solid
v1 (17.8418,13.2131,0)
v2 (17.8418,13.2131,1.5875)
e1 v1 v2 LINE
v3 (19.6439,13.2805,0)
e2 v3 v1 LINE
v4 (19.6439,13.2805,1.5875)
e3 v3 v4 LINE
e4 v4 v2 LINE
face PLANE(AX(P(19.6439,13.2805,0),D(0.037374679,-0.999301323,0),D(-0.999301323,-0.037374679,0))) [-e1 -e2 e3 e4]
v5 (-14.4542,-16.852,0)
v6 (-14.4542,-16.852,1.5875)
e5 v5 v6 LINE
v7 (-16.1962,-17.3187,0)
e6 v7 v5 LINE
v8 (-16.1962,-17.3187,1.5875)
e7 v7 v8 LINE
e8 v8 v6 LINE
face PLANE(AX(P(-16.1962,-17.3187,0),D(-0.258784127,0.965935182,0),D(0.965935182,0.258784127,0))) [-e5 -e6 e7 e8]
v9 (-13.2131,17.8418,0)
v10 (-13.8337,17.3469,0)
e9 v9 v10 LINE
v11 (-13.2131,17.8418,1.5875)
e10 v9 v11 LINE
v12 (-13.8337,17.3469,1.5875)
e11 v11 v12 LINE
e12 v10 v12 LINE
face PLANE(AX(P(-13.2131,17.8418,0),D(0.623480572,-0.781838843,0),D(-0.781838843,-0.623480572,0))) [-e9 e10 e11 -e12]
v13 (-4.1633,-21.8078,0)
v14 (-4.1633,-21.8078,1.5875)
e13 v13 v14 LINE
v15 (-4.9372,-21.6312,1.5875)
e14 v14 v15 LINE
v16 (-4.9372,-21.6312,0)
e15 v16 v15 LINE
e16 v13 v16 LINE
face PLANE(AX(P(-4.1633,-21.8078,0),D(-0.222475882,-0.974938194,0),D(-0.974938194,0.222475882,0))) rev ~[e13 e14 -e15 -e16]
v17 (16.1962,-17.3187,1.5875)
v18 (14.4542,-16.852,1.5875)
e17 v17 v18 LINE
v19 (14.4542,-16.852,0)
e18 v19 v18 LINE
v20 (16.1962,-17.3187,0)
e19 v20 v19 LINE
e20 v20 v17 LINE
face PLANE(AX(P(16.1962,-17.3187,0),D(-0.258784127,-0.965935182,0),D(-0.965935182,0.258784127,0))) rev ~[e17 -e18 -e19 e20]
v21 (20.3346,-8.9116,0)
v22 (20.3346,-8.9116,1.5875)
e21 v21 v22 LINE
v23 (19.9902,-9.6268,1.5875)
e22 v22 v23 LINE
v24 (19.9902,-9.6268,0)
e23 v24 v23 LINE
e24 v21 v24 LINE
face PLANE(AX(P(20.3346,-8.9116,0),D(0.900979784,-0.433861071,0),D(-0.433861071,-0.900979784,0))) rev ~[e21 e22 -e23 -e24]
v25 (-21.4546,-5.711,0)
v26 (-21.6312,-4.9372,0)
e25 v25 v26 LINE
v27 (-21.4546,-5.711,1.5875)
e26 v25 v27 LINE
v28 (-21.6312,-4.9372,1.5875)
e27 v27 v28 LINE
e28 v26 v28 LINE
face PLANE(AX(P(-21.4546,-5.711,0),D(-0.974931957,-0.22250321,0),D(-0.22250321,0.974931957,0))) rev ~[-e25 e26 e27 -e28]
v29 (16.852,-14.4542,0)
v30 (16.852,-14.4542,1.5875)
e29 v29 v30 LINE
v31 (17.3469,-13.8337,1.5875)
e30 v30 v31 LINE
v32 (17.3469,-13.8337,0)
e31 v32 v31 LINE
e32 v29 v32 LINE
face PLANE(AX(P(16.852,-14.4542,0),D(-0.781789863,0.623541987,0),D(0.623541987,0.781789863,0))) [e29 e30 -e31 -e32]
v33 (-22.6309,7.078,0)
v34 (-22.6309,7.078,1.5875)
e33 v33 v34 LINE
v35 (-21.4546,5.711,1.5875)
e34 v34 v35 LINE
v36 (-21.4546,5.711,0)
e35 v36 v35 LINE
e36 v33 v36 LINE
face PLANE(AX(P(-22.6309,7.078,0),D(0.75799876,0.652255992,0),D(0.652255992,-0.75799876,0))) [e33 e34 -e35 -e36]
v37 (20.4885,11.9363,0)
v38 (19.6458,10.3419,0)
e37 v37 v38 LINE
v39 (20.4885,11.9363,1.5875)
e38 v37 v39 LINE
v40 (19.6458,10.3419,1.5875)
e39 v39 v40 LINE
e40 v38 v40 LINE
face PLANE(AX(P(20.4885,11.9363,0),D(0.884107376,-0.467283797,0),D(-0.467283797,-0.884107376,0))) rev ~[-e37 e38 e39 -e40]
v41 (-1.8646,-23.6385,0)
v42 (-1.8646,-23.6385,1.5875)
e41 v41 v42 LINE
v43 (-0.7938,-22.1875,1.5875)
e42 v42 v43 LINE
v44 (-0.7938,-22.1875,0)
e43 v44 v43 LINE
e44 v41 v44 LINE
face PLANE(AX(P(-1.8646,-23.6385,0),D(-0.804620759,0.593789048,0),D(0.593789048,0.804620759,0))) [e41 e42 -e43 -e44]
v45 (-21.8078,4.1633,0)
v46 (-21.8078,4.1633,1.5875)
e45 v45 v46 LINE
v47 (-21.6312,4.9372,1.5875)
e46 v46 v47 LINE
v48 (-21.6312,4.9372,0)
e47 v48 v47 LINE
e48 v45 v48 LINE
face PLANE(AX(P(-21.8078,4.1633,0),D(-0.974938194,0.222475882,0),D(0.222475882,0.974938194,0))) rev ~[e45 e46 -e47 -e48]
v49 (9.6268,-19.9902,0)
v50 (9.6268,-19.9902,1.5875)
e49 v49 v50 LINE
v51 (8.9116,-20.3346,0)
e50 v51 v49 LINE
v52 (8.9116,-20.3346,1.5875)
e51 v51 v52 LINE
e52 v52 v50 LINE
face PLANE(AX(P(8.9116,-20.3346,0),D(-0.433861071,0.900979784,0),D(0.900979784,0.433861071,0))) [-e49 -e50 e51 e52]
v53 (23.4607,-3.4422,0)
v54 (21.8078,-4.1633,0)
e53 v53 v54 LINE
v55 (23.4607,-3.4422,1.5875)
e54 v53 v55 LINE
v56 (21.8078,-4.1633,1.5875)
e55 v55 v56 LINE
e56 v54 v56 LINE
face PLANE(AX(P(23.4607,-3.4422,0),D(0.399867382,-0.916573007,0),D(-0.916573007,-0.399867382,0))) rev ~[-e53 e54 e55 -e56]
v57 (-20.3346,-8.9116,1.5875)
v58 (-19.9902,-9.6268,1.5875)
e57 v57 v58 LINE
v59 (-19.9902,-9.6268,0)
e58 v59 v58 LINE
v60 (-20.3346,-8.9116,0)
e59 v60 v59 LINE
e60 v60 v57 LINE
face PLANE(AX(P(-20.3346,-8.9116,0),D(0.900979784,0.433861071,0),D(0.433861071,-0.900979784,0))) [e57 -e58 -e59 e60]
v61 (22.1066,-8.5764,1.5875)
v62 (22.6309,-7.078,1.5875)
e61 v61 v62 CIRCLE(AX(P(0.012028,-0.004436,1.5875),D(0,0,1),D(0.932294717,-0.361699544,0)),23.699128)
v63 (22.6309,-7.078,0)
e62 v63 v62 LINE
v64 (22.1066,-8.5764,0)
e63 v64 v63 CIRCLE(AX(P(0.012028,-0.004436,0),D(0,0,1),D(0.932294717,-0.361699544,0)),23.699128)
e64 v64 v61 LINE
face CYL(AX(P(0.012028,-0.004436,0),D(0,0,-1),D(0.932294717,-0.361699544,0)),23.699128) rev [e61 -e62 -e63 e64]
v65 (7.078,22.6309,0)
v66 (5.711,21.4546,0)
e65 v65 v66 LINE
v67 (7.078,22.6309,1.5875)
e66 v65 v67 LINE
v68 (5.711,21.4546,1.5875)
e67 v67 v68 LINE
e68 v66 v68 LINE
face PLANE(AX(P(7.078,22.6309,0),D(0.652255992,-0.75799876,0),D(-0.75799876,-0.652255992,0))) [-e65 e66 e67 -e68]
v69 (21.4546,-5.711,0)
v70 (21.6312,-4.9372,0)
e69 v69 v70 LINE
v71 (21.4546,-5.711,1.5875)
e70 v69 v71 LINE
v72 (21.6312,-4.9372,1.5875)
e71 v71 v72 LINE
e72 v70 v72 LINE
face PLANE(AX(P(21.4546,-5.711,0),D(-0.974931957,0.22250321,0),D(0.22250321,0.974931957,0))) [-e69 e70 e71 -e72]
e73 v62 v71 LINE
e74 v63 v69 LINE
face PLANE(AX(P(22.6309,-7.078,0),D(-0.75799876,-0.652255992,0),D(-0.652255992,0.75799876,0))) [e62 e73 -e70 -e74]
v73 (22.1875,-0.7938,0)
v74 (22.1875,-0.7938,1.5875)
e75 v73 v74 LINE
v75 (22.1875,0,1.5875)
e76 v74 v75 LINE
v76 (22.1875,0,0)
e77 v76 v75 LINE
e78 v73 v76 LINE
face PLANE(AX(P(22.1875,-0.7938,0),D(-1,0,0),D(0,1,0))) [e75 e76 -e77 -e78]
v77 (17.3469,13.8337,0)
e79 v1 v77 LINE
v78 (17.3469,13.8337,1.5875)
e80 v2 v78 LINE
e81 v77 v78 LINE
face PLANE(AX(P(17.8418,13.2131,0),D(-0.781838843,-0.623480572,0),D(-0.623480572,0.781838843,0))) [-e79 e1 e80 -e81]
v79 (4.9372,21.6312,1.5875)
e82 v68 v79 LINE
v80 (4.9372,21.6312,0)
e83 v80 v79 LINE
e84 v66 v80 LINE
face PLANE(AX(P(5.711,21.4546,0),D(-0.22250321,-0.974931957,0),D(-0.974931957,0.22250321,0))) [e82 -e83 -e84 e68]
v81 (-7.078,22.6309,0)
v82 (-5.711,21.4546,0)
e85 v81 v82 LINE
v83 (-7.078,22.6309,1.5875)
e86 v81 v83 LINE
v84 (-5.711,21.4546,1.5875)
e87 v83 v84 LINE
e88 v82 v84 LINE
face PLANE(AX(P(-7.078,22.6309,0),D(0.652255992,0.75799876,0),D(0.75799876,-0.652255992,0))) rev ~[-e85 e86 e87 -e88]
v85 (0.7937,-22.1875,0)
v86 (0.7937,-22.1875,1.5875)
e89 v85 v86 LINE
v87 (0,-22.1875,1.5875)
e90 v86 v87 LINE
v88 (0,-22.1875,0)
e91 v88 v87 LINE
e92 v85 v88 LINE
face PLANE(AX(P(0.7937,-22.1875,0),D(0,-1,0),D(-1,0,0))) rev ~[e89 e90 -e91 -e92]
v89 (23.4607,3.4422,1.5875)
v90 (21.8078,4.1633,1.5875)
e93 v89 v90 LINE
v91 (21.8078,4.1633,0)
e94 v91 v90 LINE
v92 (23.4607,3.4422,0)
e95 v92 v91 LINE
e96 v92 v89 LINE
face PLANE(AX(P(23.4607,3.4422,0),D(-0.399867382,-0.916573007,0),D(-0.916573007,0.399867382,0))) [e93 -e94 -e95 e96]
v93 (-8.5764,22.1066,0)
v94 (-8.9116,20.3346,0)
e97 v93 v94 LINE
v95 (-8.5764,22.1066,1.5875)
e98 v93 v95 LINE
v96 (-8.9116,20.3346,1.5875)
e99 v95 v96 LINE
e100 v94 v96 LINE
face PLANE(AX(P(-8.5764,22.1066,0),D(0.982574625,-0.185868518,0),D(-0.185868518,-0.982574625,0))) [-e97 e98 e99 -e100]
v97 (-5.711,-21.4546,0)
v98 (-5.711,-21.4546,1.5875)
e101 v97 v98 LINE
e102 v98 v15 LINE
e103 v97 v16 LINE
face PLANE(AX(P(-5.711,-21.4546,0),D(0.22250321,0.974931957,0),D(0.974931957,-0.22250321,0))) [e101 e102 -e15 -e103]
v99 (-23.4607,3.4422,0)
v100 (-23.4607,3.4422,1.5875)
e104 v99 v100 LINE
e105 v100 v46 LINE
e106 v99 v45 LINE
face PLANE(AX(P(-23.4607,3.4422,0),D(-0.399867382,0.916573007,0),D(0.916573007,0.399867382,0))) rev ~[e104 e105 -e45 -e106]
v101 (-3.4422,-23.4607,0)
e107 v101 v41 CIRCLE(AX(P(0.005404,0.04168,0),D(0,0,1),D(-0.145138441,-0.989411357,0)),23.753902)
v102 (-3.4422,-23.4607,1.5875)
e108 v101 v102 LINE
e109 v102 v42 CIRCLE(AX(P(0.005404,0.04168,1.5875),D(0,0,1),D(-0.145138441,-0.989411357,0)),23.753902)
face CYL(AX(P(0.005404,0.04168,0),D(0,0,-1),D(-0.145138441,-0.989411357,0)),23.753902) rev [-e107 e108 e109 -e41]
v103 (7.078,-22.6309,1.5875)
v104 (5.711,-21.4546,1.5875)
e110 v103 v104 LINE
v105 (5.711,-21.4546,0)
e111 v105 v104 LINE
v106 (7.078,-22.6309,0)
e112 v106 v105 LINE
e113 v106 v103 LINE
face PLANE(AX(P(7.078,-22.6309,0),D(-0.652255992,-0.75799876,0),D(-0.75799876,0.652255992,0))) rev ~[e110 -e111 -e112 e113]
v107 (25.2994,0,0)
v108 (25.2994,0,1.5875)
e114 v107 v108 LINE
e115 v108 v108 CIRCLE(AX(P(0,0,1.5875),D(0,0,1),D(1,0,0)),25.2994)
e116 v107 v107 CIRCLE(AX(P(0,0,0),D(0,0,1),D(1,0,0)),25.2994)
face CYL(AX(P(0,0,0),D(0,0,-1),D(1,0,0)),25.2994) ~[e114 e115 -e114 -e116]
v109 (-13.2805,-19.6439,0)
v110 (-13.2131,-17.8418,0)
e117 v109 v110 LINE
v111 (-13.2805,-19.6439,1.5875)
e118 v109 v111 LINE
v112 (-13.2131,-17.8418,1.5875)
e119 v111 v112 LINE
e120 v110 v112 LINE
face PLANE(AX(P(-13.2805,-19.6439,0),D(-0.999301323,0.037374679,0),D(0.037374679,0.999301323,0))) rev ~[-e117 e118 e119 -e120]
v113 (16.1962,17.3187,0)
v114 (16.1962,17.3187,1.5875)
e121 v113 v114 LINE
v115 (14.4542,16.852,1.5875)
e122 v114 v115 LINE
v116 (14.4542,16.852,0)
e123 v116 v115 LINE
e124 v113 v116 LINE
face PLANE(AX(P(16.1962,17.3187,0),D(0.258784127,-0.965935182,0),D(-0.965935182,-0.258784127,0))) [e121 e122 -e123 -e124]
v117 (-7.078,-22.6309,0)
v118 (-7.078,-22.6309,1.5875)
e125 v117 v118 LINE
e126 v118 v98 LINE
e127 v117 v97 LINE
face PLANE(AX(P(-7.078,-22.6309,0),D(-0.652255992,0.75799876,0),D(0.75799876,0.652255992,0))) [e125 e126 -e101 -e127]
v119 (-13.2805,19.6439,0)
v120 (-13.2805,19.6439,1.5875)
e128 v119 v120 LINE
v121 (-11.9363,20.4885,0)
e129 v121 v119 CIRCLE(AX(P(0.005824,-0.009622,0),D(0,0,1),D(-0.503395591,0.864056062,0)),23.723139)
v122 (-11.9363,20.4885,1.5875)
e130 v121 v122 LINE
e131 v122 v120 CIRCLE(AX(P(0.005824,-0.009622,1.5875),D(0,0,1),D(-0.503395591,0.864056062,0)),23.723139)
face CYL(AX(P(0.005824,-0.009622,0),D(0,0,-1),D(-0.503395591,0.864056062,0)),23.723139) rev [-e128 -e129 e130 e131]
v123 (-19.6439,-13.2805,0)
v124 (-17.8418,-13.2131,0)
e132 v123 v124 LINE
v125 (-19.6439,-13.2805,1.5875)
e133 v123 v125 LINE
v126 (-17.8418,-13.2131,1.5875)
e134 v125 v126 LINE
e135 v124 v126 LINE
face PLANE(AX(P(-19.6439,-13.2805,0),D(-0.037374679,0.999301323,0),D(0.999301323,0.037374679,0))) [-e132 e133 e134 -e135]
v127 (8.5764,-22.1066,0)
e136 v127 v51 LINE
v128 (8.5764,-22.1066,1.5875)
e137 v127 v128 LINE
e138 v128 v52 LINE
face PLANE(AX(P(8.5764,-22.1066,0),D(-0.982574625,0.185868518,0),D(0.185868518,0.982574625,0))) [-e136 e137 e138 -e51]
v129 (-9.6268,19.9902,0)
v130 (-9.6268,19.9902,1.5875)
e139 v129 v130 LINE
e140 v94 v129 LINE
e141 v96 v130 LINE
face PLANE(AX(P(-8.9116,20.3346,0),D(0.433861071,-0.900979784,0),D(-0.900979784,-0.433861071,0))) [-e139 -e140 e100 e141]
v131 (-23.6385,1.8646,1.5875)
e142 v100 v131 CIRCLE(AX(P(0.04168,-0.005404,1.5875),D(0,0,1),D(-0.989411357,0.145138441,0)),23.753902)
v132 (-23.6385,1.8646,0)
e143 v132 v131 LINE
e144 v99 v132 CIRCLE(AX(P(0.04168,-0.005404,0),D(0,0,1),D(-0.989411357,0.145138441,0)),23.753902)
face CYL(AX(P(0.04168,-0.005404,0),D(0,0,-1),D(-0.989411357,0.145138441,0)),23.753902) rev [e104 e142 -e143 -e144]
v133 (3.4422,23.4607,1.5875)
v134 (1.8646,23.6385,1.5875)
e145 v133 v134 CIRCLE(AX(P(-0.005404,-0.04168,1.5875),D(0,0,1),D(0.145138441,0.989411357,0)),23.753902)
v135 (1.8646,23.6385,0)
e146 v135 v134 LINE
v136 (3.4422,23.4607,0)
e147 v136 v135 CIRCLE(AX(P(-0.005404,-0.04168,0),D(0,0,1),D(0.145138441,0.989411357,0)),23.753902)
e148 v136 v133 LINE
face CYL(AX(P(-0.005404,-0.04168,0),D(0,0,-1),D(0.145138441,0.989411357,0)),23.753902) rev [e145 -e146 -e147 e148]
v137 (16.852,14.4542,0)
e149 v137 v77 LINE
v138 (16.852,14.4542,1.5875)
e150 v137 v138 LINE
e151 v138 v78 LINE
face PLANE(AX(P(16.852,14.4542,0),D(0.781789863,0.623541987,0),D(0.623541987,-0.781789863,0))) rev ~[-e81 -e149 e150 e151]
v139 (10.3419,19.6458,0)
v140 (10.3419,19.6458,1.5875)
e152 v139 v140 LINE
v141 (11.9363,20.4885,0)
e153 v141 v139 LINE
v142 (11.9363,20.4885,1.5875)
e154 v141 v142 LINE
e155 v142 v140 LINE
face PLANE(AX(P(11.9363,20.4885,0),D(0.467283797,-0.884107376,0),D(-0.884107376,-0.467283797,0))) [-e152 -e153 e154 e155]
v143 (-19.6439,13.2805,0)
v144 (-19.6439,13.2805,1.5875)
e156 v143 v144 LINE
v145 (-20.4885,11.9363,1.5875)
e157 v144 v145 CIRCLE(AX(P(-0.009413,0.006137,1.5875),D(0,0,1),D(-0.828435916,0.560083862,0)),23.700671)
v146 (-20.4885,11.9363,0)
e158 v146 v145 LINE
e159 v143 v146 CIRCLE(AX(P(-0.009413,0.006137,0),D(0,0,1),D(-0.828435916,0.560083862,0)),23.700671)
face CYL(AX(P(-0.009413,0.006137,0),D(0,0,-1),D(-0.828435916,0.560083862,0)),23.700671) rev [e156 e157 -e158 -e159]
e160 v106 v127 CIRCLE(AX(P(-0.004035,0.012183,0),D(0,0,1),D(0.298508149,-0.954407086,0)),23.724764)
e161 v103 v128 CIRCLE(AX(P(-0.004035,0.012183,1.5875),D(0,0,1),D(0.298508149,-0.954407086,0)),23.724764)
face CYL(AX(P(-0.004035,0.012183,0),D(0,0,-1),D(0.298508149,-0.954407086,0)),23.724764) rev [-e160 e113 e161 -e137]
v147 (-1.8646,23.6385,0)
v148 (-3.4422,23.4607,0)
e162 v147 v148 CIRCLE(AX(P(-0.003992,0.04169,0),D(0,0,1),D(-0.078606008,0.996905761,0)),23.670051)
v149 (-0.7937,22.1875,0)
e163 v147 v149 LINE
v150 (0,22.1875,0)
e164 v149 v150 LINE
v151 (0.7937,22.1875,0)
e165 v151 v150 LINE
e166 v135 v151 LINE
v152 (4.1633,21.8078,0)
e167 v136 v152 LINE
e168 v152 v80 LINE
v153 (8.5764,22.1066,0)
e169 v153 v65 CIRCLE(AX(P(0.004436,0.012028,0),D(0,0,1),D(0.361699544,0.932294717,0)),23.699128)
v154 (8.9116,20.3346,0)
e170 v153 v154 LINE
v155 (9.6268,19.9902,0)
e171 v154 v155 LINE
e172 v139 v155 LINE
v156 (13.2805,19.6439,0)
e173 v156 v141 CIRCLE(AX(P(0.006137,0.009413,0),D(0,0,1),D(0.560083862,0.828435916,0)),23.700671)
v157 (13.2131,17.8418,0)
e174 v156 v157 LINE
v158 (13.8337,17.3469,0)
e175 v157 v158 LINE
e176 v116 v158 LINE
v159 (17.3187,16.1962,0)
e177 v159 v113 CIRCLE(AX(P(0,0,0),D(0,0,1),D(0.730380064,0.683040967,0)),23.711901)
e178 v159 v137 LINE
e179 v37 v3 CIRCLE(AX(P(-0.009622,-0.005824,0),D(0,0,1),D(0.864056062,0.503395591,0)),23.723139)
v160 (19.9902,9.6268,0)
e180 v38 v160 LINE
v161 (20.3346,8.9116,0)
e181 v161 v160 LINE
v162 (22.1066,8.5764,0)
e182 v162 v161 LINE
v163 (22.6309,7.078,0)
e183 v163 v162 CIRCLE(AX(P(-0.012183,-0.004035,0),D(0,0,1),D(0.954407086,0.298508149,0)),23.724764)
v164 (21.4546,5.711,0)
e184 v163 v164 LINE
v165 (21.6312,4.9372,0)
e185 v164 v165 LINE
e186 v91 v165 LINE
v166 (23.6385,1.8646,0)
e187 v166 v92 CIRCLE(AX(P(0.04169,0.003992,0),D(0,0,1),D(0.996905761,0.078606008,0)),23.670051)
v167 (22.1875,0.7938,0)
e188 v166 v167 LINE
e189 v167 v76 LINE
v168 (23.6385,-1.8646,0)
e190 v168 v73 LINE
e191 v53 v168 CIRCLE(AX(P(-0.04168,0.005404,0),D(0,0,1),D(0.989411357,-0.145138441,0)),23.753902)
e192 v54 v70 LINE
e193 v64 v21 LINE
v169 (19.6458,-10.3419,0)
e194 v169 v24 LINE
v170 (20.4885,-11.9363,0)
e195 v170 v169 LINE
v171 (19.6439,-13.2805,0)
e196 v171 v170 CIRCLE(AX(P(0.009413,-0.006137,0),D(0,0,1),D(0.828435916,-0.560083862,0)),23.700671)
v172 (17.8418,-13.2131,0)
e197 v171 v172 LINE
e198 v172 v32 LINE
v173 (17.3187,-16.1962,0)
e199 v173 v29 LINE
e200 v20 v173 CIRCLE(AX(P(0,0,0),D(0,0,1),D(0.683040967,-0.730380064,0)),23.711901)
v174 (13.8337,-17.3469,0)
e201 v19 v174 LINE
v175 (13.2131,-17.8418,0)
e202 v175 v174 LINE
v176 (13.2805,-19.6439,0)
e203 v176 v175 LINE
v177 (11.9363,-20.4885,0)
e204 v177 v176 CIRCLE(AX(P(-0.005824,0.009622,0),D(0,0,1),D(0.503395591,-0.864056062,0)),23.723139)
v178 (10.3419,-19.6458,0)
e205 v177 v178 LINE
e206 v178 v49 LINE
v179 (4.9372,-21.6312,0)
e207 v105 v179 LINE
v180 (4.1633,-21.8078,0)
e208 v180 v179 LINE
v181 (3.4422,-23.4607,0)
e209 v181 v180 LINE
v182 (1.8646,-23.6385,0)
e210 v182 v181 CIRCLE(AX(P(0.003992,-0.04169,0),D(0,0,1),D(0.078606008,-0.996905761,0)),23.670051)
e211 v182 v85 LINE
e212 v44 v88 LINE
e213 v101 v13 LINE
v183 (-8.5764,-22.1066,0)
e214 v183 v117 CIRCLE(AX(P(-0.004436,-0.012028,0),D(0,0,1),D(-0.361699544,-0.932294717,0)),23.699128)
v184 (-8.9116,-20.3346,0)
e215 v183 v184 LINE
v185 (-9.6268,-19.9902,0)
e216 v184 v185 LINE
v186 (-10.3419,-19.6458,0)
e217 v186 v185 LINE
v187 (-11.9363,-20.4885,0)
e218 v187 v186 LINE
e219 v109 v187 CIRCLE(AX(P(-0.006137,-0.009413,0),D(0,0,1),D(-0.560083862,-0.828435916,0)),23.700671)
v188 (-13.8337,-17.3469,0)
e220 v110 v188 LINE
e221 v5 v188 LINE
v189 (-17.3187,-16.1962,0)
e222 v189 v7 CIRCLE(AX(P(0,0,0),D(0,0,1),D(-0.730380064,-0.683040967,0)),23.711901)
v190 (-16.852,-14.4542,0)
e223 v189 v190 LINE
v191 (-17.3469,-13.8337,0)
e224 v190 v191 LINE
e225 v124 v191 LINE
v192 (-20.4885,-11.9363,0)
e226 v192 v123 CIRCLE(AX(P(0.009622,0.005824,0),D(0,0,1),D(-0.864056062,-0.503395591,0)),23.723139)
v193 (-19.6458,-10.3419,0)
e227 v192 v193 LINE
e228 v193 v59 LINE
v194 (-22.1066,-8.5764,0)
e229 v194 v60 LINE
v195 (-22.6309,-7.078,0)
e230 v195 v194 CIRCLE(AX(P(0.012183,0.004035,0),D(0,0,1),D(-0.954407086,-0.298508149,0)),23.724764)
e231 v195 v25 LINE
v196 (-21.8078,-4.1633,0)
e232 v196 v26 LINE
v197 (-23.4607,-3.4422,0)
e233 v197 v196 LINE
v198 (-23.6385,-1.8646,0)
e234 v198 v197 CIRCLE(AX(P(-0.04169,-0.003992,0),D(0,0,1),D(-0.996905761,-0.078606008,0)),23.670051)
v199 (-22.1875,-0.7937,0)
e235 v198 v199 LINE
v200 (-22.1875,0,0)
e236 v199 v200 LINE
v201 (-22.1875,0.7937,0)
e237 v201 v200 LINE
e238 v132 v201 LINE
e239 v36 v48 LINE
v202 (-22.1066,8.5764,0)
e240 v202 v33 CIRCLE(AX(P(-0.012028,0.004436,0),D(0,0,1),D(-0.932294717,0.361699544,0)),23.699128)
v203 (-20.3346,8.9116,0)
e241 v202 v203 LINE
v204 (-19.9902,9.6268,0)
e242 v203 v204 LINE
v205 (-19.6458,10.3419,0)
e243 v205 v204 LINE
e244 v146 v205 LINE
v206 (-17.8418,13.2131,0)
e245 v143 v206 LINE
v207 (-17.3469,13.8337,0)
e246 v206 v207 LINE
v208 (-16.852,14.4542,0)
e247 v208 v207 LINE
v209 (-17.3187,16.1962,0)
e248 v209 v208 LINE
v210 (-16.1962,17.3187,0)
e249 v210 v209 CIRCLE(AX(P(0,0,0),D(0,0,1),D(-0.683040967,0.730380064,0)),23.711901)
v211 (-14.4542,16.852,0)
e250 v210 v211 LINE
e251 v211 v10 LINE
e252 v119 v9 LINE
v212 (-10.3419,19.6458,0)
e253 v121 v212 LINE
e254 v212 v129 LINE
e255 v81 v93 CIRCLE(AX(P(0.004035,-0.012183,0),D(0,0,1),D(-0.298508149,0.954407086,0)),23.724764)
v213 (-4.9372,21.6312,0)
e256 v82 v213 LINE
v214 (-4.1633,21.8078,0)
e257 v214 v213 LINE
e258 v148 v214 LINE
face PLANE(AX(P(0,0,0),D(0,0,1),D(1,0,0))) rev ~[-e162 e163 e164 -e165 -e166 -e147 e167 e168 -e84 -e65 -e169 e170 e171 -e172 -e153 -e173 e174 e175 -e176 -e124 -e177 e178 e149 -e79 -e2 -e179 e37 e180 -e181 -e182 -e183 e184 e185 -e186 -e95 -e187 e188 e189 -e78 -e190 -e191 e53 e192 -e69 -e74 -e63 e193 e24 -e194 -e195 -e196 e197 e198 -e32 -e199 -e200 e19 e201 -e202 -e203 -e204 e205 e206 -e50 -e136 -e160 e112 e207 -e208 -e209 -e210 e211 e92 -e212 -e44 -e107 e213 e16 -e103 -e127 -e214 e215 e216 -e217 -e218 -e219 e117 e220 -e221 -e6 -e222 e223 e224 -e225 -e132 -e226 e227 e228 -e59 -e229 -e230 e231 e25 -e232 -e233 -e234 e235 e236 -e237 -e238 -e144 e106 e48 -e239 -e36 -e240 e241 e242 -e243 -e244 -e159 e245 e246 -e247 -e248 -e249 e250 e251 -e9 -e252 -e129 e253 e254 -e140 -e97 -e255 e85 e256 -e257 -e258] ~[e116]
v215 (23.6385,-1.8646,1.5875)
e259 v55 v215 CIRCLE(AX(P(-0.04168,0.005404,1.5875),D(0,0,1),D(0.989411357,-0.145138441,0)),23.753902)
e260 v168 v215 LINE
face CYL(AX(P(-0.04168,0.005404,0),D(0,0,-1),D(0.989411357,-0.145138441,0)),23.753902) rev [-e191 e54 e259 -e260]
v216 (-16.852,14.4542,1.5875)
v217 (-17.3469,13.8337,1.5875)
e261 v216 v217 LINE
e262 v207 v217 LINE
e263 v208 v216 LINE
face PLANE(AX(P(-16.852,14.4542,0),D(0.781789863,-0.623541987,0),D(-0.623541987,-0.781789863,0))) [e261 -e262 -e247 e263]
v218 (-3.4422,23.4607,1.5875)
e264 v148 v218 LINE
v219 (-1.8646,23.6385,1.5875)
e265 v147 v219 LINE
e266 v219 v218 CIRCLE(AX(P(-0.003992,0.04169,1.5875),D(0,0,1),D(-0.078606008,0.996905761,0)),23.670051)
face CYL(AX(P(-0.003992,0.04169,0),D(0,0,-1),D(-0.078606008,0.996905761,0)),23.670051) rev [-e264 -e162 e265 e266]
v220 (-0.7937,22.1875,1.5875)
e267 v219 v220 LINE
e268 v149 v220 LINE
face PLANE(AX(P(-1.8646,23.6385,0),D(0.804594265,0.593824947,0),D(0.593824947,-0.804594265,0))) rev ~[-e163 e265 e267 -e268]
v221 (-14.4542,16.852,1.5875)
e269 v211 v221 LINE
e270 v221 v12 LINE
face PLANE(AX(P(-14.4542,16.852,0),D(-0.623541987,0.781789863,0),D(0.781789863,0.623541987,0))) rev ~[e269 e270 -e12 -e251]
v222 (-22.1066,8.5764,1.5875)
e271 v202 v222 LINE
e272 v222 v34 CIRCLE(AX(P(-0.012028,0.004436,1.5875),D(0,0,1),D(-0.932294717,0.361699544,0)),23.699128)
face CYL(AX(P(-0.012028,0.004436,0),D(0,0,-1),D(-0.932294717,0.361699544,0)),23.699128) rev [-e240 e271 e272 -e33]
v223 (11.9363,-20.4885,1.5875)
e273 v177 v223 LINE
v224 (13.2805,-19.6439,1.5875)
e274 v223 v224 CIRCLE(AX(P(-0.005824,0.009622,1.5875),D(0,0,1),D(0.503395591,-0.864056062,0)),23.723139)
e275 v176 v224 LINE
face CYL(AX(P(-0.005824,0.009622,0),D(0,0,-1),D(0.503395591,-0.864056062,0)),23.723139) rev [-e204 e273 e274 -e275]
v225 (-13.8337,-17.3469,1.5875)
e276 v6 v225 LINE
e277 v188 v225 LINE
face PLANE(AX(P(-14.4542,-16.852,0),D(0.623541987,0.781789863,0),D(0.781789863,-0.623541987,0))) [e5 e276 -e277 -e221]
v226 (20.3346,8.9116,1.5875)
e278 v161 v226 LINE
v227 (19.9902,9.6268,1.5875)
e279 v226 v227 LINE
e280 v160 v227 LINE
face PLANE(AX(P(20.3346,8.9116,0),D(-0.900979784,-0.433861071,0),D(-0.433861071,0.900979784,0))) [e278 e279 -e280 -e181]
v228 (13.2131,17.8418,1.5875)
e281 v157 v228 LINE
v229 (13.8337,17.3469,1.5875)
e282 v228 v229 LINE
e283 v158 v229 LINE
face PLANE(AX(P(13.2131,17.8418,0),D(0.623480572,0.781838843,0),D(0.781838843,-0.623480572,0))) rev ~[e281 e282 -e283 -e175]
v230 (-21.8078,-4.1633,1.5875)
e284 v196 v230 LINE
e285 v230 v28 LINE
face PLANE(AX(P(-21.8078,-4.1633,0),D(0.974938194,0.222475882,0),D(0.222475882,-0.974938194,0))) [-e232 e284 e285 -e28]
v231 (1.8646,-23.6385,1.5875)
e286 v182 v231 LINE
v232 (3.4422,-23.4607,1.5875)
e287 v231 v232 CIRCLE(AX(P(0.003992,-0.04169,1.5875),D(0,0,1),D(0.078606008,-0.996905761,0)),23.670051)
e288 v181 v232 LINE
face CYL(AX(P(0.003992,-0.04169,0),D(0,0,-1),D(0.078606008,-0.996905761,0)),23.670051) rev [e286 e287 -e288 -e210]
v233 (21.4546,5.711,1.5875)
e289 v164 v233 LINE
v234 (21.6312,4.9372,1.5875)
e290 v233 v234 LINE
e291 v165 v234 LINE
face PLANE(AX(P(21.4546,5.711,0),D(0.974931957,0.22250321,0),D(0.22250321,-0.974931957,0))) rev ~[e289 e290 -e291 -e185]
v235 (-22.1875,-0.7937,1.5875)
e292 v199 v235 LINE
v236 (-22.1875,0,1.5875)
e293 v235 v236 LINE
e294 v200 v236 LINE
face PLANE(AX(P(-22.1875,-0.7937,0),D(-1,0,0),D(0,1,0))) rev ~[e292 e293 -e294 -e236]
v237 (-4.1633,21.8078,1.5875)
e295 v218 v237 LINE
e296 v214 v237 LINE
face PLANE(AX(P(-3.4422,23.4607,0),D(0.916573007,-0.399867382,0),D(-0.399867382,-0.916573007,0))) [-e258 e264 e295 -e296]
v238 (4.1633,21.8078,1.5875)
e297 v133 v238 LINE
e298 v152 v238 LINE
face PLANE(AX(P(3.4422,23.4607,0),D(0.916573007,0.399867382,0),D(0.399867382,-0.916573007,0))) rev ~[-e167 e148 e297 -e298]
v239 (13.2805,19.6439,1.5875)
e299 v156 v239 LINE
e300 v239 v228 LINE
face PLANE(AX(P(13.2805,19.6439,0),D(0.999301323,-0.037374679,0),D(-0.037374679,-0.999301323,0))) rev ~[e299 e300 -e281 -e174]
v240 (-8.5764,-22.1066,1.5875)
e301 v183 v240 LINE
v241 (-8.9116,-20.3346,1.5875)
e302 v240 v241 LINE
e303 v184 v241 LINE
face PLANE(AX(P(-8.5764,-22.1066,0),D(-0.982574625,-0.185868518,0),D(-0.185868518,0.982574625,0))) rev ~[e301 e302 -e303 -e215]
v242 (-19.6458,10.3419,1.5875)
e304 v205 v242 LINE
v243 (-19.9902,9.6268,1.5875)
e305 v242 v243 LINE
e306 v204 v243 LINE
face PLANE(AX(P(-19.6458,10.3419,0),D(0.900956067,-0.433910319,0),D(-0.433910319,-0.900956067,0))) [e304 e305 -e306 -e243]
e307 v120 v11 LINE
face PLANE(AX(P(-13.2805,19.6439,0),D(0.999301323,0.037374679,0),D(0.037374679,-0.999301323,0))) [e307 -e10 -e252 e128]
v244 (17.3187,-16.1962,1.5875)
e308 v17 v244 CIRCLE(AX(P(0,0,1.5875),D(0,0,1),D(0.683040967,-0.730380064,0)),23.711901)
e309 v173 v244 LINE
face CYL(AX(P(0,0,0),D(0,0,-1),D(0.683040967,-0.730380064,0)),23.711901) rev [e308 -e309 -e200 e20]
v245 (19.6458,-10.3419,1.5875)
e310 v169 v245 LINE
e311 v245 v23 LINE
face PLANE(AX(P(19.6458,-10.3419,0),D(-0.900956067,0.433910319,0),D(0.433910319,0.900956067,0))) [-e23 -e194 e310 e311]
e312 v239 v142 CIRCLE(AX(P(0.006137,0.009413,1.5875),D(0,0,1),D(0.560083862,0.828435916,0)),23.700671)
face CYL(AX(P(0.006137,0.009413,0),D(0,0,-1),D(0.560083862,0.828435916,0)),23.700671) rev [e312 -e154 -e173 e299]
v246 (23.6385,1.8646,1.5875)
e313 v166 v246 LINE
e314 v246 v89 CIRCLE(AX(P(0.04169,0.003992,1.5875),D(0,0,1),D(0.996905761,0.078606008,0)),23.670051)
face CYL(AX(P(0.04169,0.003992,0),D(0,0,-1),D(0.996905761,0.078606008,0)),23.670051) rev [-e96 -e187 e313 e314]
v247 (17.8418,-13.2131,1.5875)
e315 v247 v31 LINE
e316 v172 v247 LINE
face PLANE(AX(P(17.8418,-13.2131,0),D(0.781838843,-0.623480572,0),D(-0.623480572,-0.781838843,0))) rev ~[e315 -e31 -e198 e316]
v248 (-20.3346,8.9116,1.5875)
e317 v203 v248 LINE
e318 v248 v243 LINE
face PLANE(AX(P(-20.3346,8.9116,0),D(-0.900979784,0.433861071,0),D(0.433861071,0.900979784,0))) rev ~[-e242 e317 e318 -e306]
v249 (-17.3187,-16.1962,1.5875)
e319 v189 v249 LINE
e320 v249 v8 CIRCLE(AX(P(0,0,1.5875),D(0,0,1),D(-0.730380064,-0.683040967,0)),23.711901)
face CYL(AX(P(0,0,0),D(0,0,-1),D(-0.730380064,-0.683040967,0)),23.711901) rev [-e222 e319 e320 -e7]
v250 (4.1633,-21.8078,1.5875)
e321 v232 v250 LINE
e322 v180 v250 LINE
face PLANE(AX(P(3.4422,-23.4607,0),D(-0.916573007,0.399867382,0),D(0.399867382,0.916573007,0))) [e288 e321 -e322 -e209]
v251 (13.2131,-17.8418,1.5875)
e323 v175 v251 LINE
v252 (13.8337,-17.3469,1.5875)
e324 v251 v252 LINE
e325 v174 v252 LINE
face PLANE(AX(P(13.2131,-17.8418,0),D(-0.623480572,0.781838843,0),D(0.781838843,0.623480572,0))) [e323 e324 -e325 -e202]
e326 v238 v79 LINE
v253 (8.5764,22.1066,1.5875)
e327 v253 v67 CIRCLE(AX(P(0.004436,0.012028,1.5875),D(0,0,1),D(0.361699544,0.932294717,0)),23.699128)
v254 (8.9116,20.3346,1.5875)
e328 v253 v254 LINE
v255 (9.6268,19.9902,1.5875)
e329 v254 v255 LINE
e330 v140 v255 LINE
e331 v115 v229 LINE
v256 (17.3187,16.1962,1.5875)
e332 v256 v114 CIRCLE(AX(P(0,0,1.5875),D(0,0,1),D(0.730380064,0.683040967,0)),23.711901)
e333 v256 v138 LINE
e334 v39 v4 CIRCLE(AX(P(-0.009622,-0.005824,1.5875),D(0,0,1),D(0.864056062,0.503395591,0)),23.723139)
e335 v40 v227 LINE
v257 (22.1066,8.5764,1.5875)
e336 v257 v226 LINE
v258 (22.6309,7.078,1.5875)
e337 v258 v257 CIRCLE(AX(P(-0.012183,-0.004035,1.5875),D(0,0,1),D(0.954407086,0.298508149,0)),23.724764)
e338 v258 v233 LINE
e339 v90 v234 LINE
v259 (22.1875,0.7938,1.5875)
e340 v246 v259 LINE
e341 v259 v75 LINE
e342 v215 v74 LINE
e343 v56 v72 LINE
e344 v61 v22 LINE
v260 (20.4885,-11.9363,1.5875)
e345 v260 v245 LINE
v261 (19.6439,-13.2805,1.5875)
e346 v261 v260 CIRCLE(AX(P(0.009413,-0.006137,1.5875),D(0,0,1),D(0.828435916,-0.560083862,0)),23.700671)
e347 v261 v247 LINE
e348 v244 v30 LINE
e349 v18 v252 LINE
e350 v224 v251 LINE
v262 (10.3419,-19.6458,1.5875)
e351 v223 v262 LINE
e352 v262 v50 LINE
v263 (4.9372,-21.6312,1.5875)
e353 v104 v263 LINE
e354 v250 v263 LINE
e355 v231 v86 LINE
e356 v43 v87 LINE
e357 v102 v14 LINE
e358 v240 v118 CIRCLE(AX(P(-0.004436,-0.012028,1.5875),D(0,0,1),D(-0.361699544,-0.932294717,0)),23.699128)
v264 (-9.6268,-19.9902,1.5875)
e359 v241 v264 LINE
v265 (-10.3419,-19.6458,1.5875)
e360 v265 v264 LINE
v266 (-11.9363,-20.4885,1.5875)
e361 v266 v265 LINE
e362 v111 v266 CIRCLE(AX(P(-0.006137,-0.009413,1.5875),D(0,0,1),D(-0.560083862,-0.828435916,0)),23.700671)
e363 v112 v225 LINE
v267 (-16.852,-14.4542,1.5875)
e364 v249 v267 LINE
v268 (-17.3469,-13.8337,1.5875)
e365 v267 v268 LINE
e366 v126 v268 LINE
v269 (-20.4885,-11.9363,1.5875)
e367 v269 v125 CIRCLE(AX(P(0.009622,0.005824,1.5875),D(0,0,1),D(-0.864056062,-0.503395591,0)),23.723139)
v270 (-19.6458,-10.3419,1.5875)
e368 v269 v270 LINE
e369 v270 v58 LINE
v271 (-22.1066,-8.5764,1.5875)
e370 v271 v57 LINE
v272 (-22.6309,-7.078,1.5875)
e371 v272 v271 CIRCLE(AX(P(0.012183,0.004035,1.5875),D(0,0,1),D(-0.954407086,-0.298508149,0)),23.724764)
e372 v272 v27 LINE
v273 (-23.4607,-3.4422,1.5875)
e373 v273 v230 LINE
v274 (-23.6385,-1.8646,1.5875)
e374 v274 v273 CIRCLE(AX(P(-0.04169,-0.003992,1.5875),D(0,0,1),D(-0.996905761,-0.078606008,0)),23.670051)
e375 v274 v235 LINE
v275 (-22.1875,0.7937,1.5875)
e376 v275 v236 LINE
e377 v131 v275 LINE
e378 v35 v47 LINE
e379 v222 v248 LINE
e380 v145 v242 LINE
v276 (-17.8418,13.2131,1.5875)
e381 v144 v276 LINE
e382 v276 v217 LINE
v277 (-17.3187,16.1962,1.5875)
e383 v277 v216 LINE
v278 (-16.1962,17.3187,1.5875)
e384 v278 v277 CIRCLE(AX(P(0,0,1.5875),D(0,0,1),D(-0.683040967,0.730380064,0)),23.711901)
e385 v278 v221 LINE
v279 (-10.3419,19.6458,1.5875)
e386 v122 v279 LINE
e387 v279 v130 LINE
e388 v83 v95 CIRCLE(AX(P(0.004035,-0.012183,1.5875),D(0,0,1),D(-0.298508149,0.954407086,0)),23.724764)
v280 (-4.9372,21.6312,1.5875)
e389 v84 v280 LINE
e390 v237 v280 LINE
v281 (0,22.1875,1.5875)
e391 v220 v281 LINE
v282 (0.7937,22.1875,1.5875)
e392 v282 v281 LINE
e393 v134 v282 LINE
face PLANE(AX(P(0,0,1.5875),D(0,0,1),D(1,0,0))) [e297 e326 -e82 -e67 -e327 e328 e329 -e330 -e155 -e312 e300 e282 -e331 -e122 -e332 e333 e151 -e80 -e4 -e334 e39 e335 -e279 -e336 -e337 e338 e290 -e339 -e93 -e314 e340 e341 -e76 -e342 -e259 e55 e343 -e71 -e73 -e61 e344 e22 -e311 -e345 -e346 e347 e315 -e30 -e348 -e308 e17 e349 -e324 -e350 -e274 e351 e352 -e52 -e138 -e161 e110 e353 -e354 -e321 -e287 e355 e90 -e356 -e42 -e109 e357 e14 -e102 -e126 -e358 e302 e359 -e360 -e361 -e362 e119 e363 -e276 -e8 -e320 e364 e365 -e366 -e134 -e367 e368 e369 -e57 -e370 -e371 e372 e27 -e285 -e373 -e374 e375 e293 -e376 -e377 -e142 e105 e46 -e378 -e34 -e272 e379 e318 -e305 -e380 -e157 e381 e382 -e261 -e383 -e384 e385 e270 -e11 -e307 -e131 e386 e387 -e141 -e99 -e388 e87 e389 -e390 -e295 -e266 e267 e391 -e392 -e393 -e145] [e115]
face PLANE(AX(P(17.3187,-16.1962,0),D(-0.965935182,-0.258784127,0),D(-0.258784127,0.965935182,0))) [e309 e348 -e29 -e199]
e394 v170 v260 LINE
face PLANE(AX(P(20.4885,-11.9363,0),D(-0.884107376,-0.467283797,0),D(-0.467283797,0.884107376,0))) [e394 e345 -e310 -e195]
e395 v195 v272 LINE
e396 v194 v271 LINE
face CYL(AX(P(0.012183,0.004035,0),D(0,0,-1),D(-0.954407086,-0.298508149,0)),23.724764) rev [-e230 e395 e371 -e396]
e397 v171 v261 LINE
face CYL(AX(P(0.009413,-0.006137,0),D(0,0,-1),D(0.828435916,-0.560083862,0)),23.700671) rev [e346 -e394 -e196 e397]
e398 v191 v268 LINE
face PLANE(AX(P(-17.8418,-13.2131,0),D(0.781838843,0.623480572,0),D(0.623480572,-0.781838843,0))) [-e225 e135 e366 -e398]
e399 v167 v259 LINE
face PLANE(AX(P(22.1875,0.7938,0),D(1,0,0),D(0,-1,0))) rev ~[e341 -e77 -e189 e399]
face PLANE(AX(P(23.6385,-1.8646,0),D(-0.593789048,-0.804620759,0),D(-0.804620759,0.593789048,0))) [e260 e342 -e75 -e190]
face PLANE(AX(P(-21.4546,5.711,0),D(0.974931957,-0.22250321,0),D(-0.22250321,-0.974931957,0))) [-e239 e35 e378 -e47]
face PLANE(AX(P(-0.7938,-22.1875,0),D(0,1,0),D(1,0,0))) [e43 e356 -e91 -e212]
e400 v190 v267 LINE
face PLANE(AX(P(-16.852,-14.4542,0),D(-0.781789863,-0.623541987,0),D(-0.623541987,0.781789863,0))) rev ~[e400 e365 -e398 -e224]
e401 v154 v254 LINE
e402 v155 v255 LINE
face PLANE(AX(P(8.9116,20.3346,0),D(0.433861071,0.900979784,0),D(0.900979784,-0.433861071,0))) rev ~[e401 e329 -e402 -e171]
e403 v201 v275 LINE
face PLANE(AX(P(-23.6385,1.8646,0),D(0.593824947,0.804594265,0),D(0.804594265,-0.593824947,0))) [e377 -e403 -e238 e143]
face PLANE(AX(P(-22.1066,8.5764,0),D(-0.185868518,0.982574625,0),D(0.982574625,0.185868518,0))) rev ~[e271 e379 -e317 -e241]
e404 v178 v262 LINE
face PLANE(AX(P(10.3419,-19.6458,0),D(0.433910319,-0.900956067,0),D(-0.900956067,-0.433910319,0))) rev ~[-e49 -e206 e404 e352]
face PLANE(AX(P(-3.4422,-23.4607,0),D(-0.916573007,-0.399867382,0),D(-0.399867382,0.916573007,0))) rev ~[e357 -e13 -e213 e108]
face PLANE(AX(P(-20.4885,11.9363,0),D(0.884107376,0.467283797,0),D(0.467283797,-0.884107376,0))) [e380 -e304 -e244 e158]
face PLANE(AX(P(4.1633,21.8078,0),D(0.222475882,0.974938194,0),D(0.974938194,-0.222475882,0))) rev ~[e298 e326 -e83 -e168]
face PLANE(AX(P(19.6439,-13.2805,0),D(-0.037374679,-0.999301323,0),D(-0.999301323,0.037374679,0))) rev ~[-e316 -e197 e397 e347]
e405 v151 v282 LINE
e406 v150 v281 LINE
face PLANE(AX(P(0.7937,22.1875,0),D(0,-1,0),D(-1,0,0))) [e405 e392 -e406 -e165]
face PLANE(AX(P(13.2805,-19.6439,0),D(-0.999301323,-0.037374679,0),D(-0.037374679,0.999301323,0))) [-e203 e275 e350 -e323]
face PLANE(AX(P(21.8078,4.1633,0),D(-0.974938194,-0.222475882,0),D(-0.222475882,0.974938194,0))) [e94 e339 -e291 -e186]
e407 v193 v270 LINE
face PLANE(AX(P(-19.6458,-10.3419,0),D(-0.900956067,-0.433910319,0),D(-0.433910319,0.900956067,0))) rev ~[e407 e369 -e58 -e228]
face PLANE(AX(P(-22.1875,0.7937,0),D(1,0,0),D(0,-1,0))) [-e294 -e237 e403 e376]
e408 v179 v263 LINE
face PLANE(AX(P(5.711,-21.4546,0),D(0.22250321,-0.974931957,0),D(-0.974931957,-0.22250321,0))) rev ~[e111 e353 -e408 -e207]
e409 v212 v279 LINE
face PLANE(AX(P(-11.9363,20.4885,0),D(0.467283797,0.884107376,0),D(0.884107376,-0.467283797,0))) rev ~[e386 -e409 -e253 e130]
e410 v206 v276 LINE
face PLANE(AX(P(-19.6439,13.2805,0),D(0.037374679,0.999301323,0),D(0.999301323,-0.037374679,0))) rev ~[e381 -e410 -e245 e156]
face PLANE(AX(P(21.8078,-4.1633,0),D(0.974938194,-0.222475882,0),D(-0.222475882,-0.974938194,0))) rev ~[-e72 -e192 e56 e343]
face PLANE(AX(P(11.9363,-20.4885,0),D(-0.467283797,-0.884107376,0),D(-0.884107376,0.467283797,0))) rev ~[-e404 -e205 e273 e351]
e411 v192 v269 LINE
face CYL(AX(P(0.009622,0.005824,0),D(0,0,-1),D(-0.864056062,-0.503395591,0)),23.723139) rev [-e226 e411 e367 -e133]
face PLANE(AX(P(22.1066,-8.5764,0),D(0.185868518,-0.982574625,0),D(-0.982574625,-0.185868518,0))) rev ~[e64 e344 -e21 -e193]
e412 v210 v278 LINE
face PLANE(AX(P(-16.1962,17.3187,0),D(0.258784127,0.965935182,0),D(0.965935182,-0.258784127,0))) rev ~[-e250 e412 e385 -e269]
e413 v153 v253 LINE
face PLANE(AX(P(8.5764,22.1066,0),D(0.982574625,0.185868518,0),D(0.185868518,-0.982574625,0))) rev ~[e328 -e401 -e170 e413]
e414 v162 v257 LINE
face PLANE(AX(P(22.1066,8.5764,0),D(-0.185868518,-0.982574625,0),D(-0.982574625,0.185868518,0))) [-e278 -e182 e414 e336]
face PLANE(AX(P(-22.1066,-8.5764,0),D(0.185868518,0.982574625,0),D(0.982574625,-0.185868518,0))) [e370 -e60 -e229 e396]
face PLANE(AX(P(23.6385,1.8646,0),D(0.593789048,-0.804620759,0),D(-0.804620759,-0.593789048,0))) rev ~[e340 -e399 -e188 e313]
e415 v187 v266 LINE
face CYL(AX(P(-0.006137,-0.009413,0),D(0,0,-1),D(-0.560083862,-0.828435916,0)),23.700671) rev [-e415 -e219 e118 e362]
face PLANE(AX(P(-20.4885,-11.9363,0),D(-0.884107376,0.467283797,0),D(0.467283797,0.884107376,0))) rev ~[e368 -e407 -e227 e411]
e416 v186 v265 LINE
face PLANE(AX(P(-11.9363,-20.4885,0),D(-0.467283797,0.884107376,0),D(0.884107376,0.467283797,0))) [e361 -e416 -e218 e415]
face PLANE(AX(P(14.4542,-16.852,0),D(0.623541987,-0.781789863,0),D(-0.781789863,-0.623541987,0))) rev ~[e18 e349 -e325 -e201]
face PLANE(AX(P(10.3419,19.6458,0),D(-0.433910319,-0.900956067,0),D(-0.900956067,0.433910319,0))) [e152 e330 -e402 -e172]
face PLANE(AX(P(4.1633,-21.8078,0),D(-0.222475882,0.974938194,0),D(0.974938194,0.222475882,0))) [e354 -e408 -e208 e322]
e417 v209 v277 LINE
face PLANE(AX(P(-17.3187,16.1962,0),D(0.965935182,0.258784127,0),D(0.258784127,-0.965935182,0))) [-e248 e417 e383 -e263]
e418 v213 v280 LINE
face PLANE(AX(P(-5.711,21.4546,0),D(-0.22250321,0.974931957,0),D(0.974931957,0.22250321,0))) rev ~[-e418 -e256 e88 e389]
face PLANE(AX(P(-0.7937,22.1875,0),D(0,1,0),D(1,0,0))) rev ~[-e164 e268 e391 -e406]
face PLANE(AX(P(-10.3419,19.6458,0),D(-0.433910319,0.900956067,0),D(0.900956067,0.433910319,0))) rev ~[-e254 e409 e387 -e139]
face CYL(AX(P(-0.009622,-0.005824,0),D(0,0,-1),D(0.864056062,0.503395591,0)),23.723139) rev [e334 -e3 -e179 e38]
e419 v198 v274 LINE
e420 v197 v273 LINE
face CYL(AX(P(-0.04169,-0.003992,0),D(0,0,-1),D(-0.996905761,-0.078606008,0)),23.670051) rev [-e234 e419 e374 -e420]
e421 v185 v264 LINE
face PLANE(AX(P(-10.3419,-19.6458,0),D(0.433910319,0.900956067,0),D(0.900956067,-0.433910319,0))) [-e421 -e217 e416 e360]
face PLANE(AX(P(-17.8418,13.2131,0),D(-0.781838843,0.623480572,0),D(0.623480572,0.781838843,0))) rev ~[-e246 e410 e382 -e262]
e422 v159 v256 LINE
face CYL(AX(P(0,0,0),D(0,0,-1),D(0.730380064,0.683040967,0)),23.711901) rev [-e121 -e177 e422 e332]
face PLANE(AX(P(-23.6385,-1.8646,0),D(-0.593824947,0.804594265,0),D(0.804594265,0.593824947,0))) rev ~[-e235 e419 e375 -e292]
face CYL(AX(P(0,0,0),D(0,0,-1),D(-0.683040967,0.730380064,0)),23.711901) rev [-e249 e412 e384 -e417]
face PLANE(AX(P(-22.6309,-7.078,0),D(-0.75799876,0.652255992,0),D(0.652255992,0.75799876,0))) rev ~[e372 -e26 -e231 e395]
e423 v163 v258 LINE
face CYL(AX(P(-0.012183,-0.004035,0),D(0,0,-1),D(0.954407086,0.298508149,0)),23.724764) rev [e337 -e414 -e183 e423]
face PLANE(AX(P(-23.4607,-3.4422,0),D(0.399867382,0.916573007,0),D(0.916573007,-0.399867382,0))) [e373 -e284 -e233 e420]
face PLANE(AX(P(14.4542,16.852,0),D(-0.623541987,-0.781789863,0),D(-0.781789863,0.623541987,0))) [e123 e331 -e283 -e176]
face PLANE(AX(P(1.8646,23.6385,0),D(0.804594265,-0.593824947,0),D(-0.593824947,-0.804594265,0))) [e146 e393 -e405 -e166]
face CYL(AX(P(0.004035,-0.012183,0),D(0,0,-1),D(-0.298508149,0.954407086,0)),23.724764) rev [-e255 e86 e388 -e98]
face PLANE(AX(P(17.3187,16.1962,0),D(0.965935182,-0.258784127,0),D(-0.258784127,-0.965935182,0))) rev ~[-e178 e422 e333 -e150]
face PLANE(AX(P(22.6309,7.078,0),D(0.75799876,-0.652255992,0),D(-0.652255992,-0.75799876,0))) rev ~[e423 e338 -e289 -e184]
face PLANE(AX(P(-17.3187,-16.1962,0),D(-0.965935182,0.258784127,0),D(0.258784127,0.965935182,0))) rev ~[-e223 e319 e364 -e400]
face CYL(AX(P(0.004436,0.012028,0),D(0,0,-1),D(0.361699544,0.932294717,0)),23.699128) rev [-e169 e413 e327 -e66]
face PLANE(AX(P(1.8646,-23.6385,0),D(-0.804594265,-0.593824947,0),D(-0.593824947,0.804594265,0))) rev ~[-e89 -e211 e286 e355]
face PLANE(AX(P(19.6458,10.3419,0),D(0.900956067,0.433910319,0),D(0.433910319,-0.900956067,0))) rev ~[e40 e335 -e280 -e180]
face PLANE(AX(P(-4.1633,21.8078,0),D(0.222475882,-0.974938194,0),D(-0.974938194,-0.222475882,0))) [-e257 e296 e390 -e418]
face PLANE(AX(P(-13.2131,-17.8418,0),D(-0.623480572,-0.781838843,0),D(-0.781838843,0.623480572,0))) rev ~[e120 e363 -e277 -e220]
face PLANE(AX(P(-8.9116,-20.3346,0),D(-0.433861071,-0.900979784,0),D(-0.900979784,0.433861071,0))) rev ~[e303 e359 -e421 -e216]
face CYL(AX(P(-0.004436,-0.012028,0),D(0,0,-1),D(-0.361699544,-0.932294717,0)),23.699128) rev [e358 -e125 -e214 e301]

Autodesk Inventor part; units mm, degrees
ref_plane "YZ Plane" through (0, 0, 0) normal (1, 0, 0) x (0, 1, 0)
ref_plane "XZ Plane" through (0, 0, 0) normal (0, 1, 0) x (-1, 0, 0)
ref_plane "XY Plane" through (0, 0, 0) normal (0, 0, 1) x (1, 0, 0)
sketch "Sketch1" plane through (0, 0, 0) normal (0, 0, 1) x (1, 0, 0)
  line L0 (0, 0) -> (0, 8.6937) construction
  line L1 (1.8646, 23.6385) -> (0.7937, 22.1875)
  line L2 (0.7937, 22.1875) -> (0, 22.1875)
  line L3 (-1.8646, 23.6385) -> (-0.7937, 22.1875)
  line L4 (-0.7937, 22.1875) -> (0, 22.1875)
  line L5 (-0.7937, 22.1875) -> (0.7937, 22.1875)
  line L6 (-3.4422, 23.4607) -> (-4.1633, 21.8078)
  line L7 (-4.1633, 21.8078) -> (-4.9372, 21.6312)
  line L8 (-7.078, 22.6309) -> (-5.711, 21.4546)
  line L9 (-5.711, 21.4546) -> (-4.9372, 21.6312)
  line L10 (-8.5764, 22.1066) -> (-8.9116, 20.3346)
  line L11 (-8.9116, 20.3346) -> (-9.6268, 19.9902)
  line L12 (-11.9363, 20.4885) -> (-10.3419, 19.6458)
  line L13 (-10.3419, 19.6458) -> (-9.6268, 19.9902)
  line L14 (-13.2805, 19.6439) -> (-13.2131, 17.8418)
  line L15 (-13.2131, 17.8418) -> (-13.8337, 17.3469)
  line L16 (-16.1962, 17.3187) -> (-14.4542, 16.852)
  line L17 (-14.4542, 16.852) -> (-13.8337, 17.3469)
  line L18 (-17.3187, 16.1962) -> (-16.852, 14.4542)
  line L19 (-16.852, 14.4542) -> (-17.3469, 13.8337)
  line L20 (-19.6439, 13.2805) -> (-17.8418, 13.2131)
  line L21 (-17.8418, 13.2131) -> (-17.3469, 13.8337)
  line L22 (-20.4885, 11.9363) -> (-19.6458, 10.3419)
  line L23 (-19.6458, 10.3419) -> (-19.9902, 9.6268)
  line L24 (-22.1066, 8.5764) -> (-20.3346, 8.9116)
  line L25 (-20.3346, 8.9116) -> (-19.9902, 9.6268)
  line L26 (-22.6309, 7.078) -> (-21.4546, 5.711)
  line L27 (-21.4546, 5.711) -> (-21.6312, 4.9372)
  line L28 (-23.4607, 3.4422) -> (-21.8078, 4.1633)
  line L29 (-21.8078, 4.1633) -> (-21.6312, 4.9372)
  line L30 (-23.6385, 1.8646) -> (-22.1875, 0.7937)
  line L31 (-22.1875, 0.7937) -> (-22.1875, 0)
  line L32 (-23.6385, -1.8646) -> (-22.1875, -0.7937)
  line L33 (-22.1875, -0.7937) -> (-22.1875, 0)
  line L34 (-23.4607, -3.4422) -> (-21.8078, -4.1633)
  line L35 (-21.8078, -4.1633) -> (-21.6312, -4.9372)
  line L36 (-22.6309, -7.078) -> (-21.4546, -5.711)
  line L37 (-21.4546, -5.711) -> (-21.6312, -4.9372)
  line L38 (-22.1066, -8.5764) -> (-20.3346, -8.9116)
  line L39 (-20.3346, -8.9116) -> (-19.9902, -9.6268)
  line L40 (-20.4885, -11.9363) -> (-19.6458, -10.3419)
  line L41 (-19.6458, -10.3419) -> (-19.9902, -9.6268)
  line L42 (-19.6439, -13.2805) -> (-17.8418, -13.2131)
  line L43 (-17.8418, -13.2131) -> (-17.3469, -13.8337)
  line L44 (-17.3187, -16.1962) -> (-16.852, -14.4542)
  line L45 (-16.852, -14.4542) -> (-17.3469, -13.8337)
  line L46 (-16.1962, -17.3187) -> (-14.4542, -16.852)
  line L47 (-14.4542, -16.852) -> (-13.8337, -17.3469)
  line L48 (-13.2805, -19.6439) -> (-13.2131, -17.8418)
  line L49 (-13.2131, -17.8418) -> (-13.8337, -17.3469)
  line L50 (-11.9363, -20.4885) -> (-10.3419, -19.6458)
  line L51 (-10.3419, -19.6458) -> (-9.6268, -19.9902)
  line L52 (-8.5764, -22.1066) -> (-8.9116, -20.3346)
  line L53 (-8.9116, -20.3346) -> (-9.6268, -19.9902)
  line L54 (-7.078, -22.6309) -> (-5.711, -21.4546)
  line L55 (-5.711, -21.4546) -> (-4.9372, -21.6312)
  line L56 (-3.4422, -23.4607) -> (-4.1633, -21.8078)
  line L57 (-4.1633, -21.8078) -> (-4.9372, -21.6312)
  line L58 (-1.8646, -23.6385) -> (-0.7938, -22.1875)
  line L59 (-0.7938, -22.1875) -> (0, -22.1875)
  line L60 (1.8646, -23.6385) -> (0.7937, -22.1875)
  line L61 (0.7937, -22.1875) -> (0, -22.1875)
  line L62 (3.4422, -23.4607) -> (4.1633, -21.8078)
  line L63 (4.1633, -21.8078) -> (4.9372, -21.6312)
  line L64 (7.078, -22.6309) -> (5.711, -21.4546)
  line L65 (5.711, -21.4546) -> (4.9372, -21.6312)
  line L66 (8.5764, -22.1066) -> (8.9116, -20.3346)
  line L67 (8.9116, -20.3346) -> (9.6268, -19.9902)
  line L68 (11.9363, -20.4885) -> (10.3419, -19.6458)
  line L69 (10.3419, -19.6458) -> (9.6268, -19.9902)
  line L70 (13.2805, -19.6439) -> (13.2131, -17.8418)
  line L71 (13.2131, -17.8418) -> (13.8337, -17.3469)
  line L72 (16.1962, -17.3187) -> (14.4542, -16.852)
  line L73 (14.4542, -16.852) -> (13.8337, -17.3469)
  line L74 (17.3187, -16.1962) -> (16.852, -14.4542)
  line L75 (16.852, -14.4542) -> (17.3469, -13.8337)
  line L76 (19.6439, -13.2805) -> (17.8418, -13.2131)
  line L77 (17.8418, -13.2131) -> (17.3469, -13.8337)
  line L78 (20.4885, -11.9363) -> (19.6458, -10.3419)
  line L79 (19.6458, -10.3419) -> (19.9902, -9.6268)
  line L80 (22.1066, -8.5764) -> (20.3346, -8.9116)
  line L81 (20.3346, -8.9116) -> (19.9902, -9.6268)
  line L82 (22.6309, -7.078) -> (21.4546, -5.711)
  line L83 (21.4546, -5.711) -> (21.6312, -4.9372)
  line L84 (23.4607, -3.4422) -> (21.8078, -4.1633)
  line L85 (21.8078, -4.1633) -> (21.6312, -4.9372)
  line L86 (23.6385, -1.8646) -> (22.1875, -0.7938)
  line L87 (22.1875, -0.7938) -> (22.1875, 0)
  line L88 (23.6385, 1.8646) -> (22.1875, 0.7938)
  line L89 (22.1875, 0.7938) -> (22.1875, 0)
  line L90 (23.4607, 3.4422) -> (21.8078, 4.1633)
  line L91 (21.8078, 4.1633) -> (21.6312, 4.9372)
  line L92 (22.6309, 7.078) -> (21.4546, 5.711)
  line L93 (21.4546, 5.711) -> (21.6312, 4.9372)
  line L94 (22.1066, 8.5764) -> (20.3346, 8.9116)
  line L95 (20.3346, 8.9116) -> (19.9902, 9.6268)
  line L96 (20.4885, 11.9363) -> (19.6458, 10.3419)
  line L97 (19.6458, 10.3419) -> (19.9902, 9.6268)
  line L98 (19.6439, 13.2805) -> (17.8418, 13.2131)
  line L99 (17.8418, 13.2131) -> (17.3469, 13.8337)
  line L100 (17.3187, 16.1962) -> (16.852, 14.4542)
  line L101 (16.852, 14.4542) -> (17.3469, 13.8337)
  line L102 (16.1962, 17.3187) -> (14.4542, 16.852)
  line L103 (14.4542, 16.852) -> (13.8337, 17.3469)
  line L104 (13.2805, 19.6439) -> (13.2131, 17.8418)
  line L105 (13.2131, 17.8418) -> (13.8337, 17.3469)
  line L106 (11.9363, 20.4885) -> (10.3419, 19.6458)
  line L107 (10.3419, 19.6458) -> (9.6268, 19.9902)
  line L108 (8.5764, 22.1066) -> (8.9116, 20.3346)
  line L109 (8.9116, 20.3346) -> (9.6268, 19.9902)
  line L110 (7.078, 22.6309) -> (5.711, 21.4546)
  line L111 (5.711, 21.4546) -> (4.9372, 21.6312)
  line L112 (3.4422, 23.4607) -> (4.1633, 21.8078)
  line L113 (4.1633, 21.8078) -> (4.9372, 21.6312)
  line L114 (-3.4422, 23.4607) -> (-1.8646, 23.6385) construction
  circle A0 centre (0, 0) radius 25.2994
  arc A1 (-11.9363, 20.4885) -> (-13.2805, 19.6439) centre (0, 0) ccw
  arc A2 (-7.078, 22.6309) -> (-8.5764, 22.1066) centre (0, 0) ccw
  arc A3 (-1.8646, 23.6385) -> (-3.4422, 23.4607) centre (0, 0) ccw
  arc A4 (3.4422, 23.4607) -> (1.8646, 23.6385) centre (0, 0) ccw
  arc A5 (8.5764, 22.1066) -> (7.078, 22.6309) centre (0, 0) ccw
  arc A6 (13.2805, 19.6439) -> (11.9363, 20.4885) centre (0, 0) ccw
  arc A7 (17.3187, 16.1962) -> (16.1962, 17.3187) centre (0, 0) ccw
  arc A8 (20.4885, 11.9363) -> (19.6439, 13.2805) centre (0, 0) ccw
  arc A9 (22.6309, 7.078) -> (22.1066, 8.5764) centre (0, 0) ccw
  arc A10 (23.6385, 1.8646) -> (23.4607, 3.4422) centre (0, 0) ccw
  arc A11 (23.4607, -3.4422) -> (23.6385, -1.8646) centre (0, 0) ccw
  arc A12 (22.1066, -8.5764) -> (22.6309, -7.078) centre (0, 0) ccw
  arc A13 (19.6439, -13.2805) -> (20.4885, -11.9363) centre (0, 0) ccw
  arc A14 (16.1962, -17.3187) -> (17.3187, -16.1962) centre (0, 0) ccw
  arc A15 (11.9363, -20.4885) -> (13.2805, -19.6439) centre (0, 0) ccw
  arc A16 (7.078, -22.6309) -> (8.5764, -22.1066) centre (0, 0) ccw
  arc A17 (1.8646, -23.6385) -> (3.4422, -23.4607) centre (0, 0) ccw
  arc A18 (-3.4422, -23.4607) -> (-1.8646, -23.6385) centre (0, 0) ccw
  arc A19 (-8.5764, -22.1066) -> (-7.078, -22.6309) centre (0, 0) ccw
  arc A20 (-13.2805, -19.6439) -> (-11.9363, -20.4885) centre (0, 0) ccw
  arc A21 (-17.3187, -16.1962) -> (-16.1962, -17.3187) centre (0, 0) ccw
  arc A22 (-20.4885, -11.9363) -> (-19.6439, -13.2805) centre (0, 0) ccw
  arc A23 (-22.6309, -7.078) -> (-22.1066, -8.5764) centre (0, 0) ccw
  arc A24 (-23.6385, -1.8646) -> (-23.4607, -3.4422) centre (0, 0) ccw
  arc A25 (-23.4607, 3.4422) -> (-23.6385, 1.8646) centre (0, 0) ccw
  arc A26 (-22.1066, 8.5764) -> (-22.6309, 7.078) centre (0, 0) ccw
  arc A27 (-16.1962, 17.3187) -> (-17.3187, 16.1962) centre (0, 0) ccw
  arc A28 (-19.6439, 13.2805) -> (-20.4885, 11.9363) centre (0, 0) ccw
  dimension "d0" = 1.5875
  dimension "d2" = 1.8034
  dimension "d5" = 360
  dimension "d7" = 120
  dimension "d9" = 1.5875
extrude "Extrusion1" add sketch "Sketch1" along normal blind 1.5875
properties part number "Ring"
